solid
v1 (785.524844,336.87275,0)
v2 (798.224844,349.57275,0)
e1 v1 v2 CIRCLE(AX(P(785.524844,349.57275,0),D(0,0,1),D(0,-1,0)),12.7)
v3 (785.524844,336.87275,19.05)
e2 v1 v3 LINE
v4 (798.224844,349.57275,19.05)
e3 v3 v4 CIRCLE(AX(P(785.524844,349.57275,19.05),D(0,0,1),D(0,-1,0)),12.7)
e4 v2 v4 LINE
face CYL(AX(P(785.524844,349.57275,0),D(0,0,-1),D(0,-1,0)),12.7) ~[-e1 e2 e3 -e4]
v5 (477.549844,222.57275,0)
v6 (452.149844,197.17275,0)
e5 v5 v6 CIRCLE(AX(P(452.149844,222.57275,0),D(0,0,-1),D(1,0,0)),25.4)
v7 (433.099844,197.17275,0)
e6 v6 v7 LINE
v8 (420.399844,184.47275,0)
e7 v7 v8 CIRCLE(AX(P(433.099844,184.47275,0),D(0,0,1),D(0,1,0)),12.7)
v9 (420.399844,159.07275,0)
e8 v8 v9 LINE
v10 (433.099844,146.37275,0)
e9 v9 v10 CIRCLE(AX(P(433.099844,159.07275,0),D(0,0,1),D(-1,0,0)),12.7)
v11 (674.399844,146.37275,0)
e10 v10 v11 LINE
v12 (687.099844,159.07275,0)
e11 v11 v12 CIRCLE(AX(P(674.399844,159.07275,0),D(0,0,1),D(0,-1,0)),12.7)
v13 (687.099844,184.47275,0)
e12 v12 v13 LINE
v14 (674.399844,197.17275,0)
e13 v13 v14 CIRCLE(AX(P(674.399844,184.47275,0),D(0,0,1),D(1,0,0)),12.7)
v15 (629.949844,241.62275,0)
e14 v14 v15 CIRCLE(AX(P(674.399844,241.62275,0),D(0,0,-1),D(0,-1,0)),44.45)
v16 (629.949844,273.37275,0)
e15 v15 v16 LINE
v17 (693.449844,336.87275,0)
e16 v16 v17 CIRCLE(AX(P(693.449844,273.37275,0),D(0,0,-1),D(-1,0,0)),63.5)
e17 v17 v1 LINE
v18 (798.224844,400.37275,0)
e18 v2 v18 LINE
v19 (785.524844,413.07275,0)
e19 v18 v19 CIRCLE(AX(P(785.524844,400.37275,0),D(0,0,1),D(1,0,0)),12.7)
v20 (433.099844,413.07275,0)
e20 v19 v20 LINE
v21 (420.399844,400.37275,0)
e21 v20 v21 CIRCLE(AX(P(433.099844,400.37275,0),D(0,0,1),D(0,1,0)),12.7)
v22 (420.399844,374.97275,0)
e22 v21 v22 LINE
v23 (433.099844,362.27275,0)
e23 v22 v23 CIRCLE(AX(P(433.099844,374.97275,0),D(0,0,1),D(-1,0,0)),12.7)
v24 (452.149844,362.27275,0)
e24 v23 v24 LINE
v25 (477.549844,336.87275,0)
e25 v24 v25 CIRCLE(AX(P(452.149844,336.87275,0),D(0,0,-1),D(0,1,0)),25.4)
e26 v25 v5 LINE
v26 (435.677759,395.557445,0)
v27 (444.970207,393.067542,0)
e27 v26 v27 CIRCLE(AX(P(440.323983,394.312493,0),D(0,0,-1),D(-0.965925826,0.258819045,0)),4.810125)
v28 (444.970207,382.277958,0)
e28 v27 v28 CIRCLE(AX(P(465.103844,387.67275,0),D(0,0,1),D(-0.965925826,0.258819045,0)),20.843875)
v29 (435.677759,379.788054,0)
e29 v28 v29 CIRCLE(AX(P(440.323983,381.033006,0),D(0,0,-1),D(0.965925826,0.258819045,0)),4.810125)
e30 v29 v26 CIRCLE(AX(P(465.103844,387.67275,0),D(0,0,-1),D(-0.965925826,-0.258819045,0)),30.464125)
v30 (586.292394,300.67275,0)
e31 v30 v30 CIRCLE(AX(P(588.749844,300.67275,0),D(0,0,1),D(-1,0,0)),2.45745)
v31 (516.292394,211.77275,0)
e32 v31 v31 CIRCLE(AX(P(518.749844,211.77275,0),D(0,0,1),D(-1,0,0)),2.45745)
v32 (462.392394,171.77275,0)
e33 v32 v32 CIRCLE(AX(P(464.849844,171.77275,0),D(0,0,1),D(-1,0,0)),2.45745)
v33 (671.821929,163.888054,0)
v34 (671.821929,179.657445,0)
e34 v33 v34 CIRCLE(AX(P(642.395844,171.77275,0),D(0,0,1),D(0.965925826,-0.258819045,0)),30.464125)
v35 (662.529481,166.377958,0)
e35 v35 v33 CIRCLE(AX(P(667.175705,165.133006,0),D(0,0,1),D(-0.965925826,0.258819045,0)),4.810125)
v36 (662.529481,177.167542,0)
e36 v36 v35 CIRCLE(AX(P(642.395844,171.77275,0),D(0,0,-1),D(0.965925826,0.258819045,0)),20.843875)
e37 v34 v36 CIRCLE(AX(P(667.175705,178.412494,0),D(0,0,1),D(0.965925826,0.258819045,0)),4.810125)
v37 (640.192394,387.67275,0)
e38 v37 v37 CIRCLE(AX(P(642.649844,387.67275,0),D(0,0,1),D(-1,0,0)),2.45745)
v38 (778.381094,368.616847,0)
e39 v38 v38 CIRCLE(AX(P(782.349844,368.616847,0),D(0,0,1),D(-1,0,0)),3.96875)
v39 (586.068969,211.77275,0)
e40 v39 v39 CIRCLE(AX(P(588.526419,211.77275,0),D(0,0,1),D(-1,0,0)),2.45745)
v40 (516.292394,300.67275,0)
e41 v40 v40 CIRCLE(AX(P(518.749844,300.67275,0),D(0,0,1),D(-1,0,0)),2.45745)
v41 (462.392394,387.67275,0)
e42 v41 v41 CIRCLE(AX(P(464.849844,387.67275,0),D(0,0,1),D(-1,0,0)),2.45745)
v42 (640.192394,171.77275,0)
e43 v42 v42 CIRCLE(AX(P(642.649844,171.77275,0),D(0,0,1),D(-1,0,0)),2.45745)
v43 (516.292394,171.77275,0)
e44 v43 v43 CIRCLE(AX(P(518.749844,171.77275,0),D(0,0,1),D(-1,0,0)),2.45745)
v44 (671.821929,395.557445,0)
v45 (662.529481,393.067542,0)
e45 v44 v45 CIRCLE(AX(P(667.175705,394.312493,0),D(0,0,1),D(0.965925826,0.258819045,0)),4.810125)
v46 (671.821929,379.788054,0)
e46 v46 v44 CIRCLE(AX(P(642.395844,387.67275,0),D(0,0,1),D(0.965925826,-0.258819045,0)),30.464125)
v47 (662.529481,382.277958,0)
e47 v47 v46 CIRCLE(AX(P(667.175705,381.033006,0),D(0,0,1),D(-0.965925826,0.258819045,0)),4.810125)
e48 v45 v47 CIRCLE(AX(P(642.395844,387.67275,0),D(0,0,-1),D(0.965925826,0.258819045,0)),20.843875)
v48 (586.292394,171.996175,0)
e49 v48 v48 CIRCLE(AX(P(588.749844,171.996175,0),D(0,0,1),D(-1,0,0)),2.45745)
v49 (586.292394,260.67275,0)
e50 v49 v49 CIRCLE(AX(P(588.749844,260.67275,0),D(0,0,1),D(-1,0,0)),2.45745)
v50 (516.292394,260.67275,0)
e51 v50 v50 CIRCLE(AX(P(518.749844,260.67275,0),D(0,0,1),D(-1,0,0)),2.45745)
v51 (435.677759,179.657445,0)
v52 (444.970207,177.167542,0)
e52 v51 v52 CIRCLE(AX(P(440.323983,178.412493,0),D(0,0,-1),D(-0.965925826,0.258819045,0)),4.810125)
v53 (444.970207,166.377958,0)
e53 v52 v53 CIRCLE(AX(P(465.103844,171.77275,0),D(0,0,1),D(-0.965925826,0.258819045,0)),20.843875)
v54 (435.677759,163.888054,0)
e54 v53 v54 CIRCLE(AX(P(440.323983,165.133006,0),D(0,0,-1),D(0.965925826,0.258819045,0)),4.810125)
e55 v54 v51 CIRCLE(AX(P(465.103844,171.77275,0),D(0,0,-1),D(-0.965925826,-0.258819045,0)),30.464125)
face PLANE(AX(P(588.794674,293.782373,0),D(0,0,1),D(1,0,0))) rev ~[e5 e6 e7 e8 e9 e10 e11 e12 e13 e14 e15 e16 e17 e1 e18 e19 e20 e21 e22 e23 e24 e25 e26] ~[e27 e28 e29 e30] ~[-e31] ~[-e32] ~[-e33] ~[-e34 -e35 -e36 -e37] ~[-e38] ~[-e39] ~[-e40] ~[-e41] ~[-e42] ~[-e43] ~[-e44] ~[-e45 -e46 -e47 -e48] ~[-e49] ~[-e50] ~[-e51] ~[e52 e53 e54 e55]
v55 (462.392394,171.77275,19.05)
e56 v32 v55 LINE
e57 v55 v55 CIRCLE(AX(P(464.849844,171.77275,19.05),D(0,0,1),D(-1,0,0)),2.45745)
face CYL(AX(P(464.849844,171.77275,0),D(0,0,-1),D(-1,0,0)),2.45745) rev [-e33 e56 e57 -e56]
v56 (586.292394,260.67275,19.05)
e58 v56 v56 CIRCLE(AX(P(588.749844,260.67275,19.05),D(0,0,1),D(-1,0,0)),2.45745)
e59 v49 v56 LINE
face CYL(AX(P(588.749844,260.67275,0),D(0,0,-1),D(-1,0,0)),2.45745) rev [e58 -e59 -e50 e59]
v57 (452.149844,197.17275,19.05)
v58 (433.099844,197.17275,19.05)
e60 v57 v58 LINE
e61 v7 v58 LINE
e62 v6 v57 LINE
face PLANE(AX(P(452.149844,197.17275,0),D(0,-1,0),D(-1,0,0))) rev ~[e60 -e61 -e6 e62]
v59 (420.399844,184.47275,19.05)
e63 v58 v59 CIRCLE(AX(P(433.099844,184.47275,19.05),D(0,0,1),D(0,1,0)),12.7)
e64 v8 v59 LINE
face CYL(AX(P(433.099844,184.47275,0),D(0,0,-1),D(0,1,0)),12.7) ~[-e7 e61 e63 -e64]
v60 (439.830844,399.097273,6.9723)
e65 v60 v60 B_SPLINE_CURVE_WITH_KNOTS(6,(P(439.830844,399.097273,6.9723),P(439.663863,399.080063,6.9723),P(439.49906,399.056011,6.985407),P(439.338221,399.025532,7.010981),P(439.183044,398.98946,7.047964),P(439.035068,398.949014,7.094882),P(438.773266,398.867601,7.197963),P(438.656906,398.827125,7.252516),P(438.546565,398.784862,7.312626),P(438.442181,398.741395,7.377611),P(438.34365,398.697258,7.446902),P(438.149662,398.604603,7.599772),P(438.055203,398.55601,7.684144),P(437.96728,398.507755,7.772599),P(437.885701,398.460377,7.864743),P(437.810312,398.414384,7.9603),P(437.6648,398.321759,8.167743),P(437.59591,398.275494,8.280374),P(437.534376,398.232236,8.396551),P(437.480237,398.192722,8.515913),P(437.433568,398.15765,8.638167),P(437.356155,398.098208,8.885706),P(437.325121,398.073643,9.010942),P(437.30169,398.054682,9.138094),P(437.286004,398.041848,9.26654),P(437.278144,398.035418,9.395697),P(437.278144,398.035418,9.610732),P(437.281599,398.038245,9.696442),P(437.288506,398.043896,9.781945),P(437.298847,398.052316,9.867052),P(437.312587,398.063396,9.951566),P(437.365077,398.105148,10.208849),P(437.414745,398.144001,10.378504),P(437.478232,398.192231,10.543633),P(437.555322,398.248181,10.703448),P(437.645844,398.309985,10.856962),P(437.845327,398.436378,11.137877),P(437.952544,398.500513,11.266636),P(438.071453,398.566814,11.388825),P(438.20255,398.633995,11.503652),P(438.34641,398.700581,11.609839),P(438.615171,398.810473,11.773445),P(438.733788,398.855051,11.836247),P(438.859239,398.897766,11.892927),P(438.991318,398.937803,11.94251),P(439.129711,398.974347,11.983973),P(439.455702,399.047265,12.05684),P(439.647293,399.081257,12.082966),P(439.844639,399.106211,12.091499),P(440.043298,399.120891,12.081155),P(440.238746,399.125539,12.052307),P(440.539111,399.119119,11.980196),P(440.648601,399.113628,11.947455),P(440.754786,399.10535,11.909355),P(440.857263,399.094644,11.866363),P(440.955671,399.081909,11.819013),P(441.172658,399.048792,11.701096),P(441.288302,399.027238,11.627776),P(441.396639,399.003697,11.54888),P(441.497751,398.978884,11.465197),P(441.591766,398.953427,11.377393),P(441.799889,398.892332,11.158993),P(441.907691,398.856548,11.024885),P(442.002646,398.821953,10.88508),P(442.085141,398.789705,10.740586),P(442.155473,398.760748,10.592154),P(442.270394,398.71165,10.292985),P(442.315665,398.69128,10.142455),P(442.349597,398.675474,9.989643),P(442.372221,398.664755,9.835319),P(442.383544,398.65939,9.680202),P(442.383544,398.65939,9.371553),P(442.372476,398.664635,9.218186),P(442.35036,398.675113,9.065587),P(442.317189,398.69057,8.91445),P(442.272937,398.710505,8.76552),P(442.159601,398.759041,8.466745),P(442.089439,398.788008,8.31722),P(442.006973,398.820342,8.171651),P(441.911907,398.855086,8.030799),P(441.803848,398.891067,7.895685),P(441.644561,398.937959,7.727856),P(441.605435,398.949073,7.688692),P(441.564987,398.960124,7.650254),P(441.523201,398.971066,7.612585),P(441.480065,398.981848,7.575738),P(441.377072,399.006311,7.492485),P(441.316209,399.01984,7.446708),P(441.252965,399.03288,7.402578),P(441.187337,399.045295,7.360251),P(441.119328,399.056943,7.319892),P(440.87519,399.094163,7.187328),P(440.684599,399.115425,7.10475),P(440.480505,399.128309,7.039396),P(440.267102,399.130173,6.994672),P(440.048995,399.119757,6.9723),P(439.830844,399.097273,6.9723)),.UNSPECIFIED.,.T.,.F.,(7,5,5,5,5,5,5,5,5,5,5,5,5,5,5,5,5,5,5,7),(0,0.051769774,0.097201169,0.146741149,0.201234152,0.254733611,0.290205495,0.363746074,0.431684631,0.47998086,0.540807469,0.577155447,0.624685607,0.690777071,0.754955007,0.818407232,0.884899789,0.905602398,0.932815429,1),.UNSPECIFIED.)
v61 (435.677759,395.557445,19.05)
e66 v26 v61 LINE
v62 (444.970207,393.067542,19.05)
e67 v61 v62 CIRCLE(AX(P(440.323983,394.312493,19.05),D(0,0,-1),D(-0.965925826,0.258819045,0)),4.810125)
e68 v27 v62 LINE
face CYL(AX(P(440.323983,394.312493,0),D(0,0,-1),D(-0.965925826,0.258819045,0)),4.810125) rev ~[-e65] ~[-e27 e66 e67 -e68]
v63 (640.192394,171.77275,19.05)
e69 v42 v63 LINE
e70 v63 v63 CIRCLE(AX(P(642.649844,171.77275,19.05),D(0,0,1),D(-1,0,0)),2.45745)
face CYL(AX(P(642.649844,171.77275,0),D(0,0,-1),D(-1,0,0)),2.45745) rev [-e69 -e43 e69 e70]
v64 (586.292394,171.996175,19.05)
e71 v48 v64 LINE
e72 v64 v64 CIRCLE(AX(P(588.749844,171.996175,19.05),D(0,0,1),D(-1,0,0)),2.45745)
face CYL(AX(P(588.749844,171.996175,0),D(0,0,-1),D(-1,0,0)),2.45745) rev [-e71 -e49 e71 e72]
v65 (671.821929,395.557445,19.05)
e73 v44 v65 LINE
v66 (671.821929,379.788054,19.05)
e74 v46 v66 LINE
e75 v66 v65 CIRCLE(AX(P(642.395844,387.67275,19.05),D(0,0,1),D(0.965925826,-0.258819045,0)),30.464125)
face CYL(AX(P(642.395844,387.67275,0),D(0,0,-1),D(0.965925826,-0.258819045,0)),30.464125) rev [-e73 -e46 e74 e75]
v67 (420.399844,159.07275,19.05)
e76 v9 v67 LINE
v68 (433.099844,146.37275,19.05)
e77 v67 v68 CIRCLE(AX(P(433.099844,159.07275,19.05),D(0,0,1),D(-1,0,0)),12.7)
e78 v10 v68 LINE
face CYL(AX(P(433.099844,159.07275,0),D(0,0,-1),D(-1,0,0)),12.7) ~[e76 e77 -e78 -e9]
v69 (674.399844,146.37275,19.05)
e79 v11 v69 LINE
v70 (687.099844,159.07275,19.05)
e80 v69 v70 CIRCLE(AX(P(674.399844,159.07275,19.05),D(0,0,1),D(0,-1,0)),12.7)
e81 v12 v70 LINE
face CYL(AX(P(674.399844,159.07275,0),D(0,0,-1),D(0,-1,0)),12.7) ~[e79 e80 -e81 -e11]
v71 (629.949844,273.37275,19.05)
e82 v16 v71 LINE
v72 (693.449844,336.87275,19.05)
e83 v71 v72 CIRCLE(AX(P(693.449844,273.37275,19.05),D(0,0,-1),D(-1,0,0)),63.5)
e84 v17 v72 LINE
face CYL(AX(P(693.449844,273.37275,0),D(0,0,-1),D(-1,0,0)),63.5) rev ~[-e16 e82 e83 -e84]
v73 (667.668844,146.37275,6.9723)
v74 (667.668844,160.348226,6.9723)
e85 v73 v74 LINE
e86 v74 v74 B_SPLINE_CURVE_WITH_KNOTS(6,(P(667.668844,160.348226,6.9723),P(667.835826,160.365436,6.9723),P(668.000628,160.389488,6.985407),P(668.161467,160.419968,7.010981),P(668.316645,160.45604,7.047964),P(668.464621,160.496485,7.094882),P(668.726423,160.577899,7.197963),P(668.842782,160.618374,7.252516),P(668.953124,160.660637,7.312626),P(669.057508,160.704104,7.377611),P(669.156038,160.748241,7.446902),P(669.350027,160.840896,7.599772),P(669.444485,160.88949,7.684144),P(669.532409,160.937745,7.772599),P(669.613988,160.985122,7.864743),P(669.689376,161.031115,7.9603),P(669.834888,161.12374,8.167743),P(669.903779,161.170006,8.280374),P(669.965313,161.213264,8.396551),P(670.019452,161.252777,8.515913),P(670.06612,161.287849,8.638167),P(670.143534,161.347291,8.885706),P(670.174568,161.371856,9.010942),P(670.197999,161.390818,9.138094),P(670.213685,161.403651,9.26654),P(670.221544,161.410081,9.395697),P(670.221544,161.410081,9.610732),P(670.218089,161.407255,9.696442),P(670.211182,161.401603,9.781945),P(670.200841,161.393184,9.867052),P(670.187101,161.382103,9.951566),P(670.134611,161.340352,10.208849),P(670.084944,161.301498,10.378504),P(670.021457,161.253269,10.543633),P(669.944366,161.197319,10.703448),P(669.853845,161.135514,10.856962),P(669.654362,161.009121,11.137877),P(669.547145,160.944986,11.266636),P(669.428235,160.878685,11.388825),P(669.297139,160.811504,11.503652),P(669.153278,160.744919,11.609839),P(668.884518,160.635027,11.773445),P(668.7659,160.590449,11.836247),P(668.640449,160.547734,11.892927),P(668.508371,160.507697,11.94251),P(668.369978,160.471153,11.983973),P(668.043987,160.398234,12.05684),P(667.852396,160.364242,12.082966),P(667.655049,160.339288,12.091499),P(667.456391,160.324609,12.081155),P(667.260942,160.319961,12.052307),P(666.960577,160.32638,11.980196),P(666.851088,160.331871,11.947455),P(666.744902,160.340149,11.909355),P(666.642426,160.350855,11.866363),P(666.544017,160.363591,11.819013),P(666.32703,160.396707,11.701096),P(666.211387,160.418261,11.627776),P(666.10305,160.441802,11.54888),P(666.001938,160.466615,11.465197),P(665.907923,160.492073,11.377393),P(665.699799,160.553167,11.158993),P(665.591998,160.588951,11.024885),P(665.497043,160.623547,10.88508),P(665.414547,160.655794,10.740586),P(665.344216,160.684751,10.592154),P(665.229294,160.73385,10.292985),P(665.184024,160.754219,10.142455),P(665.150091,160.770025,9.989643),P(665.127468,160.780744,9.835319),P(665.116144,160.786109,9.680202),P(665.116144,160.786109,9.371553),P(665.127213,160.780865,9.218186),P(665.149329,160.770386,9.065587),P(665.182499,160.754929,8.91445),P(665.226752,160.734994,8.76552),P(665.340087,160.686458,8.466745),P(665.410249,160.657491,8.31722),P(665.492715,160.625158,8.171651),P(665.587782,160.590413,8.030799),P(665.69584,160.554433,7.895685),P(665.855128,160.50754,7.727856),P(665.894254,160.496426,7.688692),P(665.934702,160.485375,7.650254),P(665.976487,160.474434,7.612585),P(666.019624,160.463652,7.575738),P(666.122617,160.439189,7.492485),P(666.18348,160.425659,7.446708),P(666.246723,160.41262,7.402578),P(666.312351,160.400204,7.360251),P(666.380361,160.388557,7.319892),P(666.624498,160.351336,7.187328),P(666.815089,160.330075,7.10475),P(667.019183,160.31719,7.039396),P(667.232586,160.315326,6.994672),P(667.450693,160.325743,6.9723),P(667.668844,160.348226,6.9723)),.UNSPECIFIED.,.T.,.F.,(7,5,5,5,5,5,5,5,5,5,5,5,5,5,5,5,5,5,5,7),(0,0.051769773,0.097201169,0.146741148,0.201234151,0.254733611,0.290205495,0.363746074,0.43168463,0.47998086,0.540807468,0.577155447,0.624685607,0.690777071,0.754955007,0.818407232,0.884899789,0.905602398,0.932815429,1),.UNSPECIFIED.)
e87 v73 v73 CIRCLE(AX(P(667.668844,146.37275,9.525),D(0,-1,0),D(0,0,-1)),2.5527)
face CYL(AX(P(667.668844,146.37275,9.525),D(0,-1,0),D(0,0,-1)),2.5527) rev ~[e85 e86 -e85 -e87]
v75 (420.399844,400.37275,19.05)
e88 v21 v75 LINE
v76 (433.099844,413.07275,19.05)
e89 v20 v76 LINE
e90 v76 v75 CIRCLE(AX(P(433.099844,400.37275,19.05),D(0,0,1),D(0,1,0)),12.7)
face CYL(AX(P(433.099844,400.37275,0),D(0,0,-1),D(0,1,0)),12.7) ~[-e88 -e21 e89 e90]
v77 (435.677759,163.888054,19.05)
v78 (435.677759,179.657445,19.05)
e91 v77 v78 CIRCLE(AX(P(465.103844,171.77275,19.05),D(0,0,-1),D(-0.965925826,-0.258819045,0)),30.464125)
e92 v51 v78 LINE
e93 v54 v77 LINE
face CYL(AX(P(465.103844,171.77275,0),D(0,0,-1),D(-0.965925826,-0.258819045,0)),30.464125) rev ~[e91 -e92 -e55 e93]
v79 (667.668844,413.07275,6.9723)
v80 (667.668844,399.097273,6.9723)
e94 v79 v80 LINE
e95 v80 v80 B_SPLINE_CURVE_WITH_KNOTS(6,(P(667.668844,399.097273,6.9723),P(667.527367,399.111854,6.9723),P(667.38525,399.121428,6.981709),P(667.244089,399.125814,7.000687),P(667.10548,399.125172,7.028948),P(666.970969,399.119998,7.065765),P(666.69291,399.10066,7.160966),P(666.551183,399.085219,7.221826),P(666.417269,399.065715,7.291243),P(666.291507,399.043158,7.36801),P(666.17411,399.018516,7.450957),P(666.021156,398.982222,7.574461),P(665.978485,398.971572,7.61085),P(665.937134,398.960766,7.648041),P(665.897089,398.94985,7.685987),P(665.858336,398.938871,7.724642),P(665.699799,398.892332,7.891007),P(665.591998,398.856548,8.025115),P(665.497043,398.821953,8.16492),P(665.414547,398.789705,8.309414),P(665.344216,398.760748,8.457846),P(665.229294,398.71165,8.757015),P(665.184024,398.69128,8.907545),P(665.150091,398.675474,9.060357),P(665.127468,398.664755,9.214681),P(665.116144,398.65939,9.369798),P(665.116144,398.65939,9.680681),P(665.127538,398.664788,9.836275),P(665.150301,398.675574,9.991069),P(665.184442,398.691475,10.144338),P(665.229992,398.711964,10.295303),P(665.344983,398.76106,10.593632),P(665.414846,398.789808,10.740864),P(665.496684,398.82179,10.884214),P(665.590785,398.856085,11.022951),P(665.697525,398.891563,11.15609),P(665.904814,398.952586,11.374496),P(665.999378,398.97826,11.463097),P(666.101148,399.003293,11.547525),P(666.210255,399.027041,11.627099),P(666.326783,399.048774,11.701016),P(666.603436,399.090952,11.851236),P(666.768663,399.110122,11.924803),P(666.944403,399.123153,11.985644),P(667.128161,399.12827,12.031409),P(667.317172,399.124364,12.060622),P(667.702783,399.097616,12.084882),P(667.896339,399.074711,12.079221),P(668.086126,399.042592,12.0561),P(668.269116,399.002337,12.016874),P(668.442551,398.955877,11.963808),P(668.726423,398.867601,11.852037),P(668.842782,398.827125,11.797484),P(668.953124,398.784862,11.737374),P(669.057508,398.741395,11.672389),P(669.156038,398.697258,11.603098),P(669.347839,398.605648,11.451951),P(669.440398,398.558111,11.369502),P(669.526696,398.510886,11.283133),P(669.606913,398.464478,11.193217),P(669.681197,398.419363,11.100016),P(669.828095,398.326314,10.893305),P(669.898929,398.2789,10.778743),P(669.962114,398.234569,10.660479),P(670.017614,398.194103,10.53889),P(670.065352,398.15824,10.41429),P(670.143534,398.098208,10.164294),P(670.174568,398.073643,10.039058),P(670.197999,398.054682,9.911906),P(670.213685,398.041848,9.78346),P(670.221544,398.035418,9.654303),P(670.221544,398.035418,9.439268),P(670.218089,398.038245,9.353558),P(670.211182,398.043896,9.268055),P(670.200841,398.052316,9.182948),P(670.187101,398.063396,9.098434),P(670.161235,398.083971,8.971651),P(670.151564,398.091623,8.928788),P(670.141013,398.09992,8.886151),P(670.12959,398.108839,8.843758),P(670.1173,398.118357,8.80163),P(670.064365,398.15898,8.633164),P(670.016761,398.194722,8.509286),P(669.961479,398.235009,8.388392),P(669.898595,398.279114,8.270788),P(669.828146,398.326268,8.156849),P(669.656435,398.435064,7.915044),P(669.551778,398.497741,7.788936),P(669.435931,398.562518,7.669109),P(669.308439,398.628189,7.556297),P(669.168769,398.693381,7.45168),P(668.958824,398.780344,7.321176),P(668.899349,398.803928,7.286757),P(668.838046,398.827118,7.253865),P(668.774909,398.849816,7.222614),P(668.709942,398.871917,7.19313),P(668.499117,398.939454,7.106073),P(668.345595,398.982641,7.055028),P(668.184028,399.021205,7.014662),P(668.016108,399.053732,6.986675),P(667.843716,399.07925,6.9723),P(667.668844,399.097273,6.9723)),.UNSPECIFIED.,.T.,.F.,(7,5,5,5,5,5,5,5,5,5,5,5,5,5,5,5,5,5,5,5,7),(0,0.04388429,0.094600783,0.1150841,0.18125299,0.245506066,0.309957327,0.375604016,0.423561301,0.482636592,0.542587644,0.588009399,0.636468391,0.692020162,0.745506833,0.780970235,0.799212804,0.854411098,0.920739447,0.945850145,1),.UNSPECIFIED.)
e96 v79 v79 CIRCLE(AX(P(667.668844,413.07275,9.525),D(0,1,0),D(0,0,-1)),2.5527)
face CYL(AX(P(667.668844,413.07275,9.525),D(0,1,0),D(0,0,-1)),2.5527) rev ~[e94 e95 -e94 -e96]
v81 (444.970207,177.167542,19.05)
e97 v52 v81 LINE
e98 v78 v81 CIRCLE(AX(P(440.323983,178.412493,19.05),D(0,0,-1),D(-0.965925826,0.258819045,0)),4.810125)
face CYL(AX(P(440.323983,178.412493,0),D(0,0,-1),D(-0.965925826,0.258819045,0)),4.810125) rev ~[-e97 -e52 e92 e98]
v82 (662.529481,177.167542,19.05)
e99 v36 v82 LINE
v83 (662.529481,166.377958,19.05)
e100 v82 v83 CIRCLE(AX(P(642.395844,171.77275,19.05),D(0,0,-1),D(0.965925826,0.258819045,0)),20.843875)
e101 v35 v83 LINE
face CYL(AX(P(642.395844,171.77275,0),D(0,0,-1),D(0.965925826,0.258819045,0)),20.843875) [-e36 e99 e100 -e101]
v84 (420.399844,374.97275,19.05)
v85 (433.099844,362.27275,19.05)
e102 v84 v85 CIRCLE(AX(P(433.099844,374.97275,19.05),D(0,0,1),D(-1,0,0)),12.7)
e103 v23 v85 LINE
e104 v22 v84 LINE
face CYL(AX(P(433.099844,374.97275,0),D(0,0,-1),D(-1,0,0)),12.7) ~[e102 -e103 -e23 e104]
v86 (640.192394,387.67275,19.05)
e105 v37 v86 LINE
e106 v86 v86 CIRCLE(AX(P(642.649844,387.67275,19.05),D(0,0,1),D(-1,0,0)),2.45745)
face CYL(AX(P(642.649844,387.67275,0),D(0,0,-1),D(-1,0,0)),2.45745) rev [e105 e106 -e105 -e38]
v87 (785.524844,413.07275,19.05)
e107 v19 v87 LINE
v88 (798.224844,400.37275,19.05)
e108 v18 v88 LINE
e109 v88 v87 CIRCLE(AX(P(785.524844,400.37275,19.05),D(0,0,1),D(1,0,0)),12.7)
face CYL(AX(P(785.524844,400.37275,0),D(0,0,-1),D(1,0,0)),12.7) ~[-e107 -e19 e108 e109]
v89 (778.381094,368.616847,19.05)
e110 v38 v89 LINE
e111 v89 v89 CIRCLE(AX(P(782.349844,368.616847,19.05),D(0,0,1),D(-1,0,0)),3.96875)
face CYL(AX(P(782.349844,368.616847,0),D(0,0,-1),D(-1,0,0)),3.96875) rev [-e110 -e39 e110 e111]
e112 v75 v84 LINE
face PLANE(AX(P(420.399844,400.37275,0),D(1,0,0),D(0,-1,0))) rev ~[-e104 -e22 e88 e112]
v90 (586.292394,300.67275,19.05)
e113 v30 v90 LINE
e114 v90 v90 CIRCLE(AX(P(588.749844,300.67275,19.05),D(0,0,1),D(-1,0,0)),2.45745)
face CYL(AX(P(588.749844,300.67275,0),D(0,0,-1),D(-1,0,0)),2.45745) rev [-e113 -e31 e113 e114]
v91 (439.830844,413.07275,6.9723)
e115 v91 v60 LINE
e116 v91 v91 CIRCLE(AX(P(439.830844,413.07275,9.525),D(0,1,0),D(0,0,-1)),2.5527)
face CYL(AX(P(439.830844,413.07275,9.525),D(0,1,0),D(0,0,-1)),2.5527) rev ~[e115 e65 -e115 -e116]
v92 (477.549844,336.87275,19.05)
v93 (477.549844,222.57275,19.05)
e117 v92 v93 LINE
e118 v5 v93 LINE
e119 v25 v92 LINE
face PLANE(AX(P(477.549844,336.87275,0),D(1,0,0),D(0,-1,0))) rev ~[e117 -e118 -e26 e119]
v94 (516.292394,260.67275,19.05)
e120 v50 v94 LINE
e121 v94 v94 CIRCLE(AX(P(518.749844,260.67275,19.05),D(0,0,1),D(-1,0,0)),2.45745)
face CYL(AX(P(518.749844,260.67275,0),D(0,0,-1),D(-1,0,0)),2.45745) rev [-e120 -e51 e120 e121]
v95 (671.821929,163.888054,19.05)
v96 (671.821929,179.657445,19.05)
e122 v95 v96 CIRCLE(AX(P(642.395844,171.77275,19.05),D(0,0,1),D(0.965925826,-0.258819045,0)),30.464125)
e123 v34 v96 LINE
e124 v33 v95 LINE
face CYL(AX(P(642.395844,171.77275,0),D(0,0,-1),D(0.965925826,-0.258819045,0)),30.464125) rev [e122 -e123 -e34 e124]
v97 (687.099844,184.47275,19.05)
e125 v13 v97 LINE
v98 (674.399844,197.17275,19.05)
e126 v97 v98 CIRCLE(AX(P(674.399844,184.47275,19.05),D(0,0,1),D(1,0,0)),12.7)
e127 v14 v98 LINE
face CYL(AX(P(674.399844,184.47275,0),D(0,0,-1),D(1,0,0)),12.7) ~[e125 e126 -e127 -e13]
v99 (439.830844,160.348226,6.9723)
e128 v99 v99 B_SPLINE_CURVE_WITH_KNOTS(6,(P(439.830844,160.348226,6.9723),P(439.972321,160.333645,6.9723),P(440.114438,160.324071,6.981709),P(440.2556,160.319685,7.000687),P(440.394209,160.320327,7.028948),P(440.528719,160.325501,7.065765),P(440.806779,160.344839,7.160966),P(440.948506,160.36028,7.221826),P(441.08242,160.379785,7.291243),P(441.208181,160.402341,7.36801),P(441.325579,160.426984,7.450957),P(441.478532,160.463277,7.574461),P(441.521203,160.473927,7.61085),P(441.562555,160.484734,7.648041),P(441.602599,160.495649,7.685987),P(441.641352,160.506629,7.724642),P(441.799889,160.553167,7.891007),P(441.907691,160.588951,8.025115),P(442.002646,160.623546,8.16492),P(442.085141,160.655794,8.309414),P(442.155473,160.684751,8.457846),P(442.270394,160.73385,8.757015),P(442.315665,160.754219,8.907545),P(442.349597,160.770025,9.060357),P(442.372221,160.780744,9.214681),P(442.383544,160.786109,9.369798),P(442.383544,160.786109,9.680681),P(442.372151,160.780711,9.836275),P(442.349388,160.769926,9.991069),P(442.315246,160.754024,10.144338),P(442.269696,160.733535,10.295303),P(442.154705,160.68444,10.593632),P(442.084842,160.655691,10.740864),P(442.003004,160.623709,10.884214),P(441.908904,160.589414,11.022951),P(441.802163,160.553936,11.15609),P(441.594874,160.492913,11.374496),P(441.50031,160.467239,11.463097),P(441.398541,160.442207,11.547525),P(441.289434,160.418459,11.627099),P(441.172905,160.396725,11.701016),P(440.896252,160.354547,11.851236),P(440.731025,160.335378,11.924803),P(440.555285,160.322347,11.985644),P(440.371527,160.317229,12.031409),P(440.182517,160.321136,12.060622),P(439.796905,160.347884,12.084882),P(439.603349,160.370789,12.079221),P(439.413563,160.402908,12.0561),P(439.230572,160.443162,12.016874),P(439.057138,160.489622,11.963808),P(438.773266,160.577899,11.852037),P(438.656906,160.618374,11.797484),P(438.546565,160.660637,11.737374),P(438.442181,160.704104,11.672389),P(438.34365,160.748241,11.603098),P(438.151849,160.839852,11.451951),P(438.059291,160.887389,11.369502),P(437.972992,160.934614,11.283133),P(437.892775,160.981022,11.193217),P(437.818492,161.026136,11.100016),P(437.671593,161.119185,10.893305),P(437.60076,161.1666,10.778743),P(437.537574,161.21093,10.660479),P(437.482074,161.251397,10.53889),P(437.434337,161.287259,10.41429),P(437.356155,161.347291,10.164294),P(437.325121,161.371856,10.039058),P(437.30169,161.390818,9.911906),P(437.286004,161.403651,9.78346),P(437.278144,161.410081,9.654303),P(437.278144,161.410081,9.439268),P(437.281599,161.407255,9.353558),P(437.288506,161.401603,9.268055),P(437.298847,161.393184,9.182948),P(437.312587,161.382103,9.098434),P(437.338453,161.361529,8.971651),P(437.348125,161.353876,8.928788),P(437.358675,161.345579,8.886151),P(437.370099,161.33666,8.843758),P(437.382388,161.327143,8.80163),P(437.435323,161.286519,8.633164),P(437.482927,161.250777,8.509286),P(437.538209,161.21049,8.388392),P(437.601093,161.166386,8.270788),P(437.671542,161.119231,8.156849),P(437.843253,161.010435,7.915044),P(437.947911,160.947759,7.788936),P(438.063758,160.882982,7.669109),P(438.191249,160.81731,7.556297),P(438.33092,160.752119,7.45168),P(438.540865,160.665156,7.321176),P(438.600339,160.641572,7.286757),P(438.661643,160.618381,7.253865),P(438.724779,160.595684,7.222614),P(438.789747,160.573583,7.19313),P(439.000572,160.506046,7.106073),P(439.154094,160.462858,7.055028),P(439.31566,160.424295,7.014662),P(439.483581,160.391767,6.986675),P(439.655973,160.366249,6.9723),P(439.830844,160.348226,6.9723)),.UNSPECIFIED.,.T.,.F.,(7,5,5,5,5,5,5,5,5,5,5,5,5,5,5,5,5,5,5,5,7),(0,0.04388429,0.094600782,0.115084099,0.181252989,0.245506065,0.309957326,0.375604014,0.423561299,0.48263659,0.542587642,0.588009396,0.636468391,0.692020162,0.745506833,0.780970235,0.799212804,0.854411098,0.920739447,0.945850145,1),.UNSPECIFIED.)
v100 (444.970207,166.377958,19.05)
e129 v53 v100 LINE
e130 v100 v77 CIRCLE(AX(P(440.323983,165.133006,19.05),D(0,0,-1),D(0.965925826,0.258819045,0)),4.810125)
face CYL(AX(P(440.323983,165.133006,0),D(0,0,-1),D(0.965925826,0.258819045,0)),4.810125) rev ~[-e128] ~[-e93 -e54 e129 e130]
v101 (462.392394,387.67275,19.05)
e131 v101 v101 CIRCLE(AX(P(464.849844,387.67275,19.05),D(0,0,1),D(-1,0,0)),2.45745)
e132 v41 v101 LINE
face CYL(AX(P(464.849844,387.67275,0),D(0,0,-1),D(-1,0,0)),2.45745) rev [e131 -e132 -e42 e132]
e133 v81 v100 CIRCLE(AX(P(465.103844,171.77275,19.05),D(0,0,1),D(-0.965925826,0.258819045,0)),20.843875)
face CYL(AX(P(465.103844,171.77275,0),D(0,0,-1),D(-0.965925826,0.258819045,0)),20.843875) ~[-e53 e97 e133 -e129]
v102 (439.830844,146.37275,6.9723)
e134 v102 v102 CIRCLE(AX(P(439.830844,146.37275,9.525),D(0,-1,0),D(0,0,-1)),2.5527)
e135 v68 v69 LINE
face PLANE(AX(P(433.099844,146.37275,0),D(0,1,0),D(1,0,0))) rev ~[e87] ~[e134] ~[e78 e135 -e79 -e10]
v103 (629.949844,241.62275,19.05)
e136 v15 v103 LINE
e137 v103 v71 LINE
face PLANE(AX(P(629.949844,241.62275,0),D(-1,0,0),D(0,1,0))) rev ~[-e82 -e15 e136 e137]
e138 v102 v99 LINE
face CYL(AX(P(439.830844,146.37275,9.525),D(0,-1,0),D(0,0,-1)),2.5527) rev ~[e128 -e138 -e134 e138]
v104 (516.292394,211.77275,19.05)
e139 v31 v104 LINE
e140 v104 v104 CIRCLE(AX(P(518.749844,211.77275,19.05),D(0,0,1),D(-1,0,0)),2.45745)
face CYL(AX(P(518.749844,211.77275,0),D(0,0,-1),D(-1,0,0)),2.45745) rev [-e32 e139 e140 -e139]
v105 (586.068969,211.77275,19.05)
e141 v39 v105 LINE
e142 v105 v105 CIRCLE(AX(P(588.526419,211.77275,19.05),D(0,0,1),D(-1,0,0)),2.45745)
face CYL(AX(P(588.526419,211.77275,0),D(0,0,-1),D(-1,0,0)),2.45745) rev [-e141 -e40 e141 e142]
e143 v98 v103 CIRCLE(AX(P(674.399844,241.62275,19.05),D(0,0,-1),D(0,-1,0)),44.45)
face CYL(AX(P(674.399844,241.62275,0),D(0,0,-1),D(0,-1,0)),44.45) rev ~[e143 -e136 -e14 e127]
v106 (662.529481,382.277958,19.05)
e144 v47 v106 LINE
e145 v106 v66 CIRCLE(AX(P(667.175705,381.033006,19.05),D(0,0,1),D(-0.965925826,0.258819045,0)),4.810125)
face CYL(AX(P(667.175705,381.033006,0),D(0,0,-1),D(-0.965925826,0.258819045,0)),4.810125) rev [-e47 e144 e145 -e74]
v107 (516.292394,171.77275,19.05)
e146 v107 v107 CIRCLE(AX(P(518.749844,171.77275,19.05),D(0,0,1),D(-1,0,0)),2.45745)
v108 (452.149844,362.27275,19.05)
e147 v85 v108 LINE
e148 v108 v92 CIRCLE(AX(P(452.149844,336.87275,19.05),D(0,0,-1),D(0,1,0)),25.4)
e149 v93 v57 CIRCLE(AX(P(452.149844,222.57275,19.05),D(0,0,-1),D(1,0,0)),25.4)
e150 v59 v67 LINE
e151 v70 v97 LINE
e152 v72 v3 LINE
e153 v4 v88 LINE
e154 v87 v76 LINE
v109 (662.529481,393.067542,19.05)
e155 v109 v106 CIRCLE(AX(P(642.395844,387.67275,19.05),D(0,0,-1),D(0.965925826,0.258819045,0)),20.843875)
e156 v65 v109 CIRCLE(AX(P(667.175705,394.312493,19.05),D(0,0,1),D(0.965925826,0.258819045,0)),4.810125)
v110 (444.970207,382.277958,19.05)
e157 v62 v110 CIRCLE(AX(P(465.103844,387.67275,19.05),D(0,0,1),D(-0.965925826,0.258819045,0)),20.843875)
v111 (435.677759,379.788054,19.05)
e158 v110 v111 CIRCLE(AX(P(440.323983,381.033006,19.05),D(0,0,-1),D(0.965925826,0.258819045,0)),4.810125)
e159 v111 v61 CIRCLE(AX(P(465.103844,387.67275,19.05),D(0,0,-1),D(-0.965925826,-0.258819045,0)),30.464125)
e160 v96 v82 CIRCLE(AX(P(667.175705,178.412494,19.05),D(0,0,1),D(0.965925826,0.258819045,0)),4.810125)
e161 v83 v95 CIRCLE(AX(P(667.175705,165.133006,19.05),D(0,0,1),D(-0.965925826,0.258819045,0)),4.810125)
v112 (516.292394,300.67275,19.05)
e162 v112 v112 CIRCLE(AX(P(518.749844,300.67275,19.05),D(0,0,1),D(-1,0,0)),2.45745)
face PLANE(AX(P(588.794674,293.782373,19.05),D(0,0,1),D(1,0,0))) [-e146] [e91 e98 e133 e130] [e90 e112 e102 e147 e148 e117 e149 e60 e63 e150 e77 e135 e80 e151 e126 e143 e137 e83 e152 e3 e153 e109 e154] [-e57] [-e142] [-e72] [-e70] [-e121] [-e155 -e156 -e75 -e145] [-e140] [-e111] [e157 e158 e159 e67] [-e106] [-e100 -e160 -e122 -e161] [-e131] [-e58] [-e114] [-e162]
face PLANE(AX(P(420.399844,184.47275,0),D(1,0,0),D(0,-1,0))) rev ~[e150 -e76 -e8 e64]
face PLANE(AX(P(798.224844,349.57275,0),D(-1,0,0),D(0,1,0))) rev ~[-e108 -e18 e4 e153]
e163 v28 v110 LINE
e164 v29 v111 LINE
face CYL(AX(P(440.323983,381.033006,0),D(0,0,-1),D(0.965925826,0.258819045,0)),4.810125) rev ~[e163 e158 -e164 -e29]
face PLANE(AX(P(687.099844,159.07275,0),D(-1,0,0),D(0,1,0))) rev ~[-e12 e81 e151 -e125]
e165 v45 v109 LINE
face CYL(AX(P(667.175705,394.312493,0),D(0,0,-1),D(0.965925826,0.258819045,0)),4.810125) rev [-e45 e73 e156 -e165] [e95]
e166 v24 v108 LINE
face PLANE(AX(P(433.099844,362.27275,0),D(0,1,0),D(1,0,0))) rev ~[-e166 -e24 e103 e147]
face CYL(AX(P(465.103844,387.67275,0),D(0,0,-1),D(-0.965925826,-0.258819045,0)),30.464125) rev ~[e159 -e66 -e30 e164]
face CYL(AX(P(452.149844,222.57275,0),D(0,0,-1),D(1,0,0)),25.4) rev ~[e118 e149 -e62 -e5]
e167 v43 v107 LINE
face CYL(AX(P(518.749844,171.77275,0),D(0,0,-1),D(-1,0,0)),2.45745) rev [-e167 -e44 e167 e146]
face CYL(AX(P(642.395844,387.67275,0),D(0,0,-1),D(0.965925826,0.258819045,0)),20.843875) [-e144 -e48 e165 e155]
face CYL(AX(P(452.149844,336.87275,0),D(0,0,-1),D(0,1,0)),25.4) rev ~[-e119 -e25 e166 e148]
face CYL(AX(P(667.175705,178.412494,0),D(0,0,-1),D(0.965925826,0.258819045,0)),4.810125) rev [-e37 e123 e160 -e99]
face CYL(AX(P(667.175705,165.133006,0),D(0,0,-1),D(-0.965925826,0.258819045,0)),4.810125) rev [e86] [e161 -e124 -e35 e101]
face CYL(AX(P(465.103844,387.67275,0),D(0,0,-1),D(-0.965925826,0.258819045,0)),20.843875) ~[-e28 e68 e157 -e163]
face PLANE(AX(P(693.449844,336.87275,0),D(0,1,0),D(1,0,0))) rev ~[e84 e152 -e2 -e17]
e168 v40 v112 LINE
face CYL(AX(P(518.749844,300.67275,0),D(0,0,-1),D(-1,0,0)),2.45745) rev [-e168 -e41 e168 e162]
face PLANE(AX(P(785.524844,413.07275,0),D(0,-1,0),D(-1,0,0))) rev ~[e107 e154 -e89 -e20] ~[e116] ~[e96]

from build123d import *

# Parameters (mm, degrees)
MODEL_R             = 2.45745
MODEL_R_2           = 3.96875
BOSS_EXTRUDE1_DEPTH = 19.05
CUT_EXTRUDE1_REACH  = 843.816
SKETCH2_R           = 2.5527
CUT_EXTRUDE2_REACH  = 843.816
SKETCH4_R           = 2.5527


with BuildPart() as part:
    # Model → Boss-Extrude1 (new body)
    with BuildSketch(Plane.XY):
        with BuildLine():
            Line((785.524844282, 413.072749717), (433.09984428, 413.072749717))
            ThreePointArc((433.09984428, 413.072749717), (424.119588159, 409.353005838), (420.39984428, 400.372749717))
            Line((420.39984428, 400.372749717), (420.39984428, 374.972749717))
            ThreePointArc((420.39984428, 374.972749717), (424.119588159, 365.992493596), (433.09984428, 362.272749717))
            Line((433.09984428, 362.272749717), (452.14984428, 362.272749717))
            ThreePointArc((452.14984428, 362.272749717), (470.110356522, 354.833261959), (477.54984428, 336.872749717))
            Line((477.54984428, 336.872749717), (477.54984428, 222.572749717))
            ThreePointArc((477.54984428, 222.572749717), (470.110356522, 204.612237475), (452.14984428, 197.172749717))
            Line((452.14984428, 197.172749717), (433.09984428, 197.172749717))
            ThreePointArc((433.09984428, 197.172749717), (424.119588159, 193.453005838), (420.39984428, 184.472749717))
            Line((420.39984428, 184.472749717), (420.39984428, 159.072749717))
            ThreePointArc((420.39984428, 159.072749717), (424.119588159, 150.092493596), (433.09984428, 146.372749717))
            Line((433.09984428, 146.372749717), (674.399844282, 146.372749717))
            ThreePointArc((674.399844282, 146.372749717), (683.380100403, 150.092493596), (687.099844282, 159.072749717))
            Line((687.099844282, 159.072749717), (687.099844282, 184.472749717))
            ThreePointArc((687.099844282, 184.472749717), (683.380100403, 193.453005838), (674.399844282, 197.172749717))
            ThreePointArc((674.399844282, 197.172749717), (642.968947858, 210.191853293), (629.949844282, 241.622749717))
            Line((629.949844282, 241.622749717), (629.949844282, 273.372749717))
            ThreePointArc((629.949844282, 273.372749717), (648.548563677, 318.274030322), (693.449844282, 336.872749717))
            Line((693.449844282, 336.872749717), (785.524844282, 336.872749717))
            ThreePointArc((785.524844282, 336.872749717), (794.505100403, 340.592493596), (798.224844282, 349.572749717))
            Line((798.224844282, 349.572749717), (798.224844282, 400.372749717))
            ThreePointArc((798.224844282, 400.372749717), (794.505100403, 409.353005838), (785.524844282, 413.072749717))
        make_face()
        with Locations(Location((518.749844327, 171.772749712, 0), (0, 0, 180))):
            Circle(MODEL_R, mode=Mode.SUBTRACT)
        with Locations(Location((588.526419084, 211.772749722, 0), (0, 0, 180))):
            Circle(MODEL_R, mode=Mode.SUBTRACT)
        with Locations(Location((518.749844281, 260.672749712, 0), (0, 0, 180))):
            Circle(MODEL_R, mode=Mode.SUBTRACT)
        with Locations(Location((588.749844281, 300.672749722, 0), (0, 0, 180))):
            Circle(MODEL_R, mode=Mode.SUBTRACT)
        with Locations(Location((782.349844282, 368.616847103, 0), (0, 0, 180))):
            Circle(MODEL_R_2, mode=Mode.SUBTRACT)
        with Locations(Location((642.649844285, 171.772749717, 0), (0, 0, 180))):
            Circle(MODEL_R, mode=Mode.SUBTRACT)
        with Locations(Location((464.849844282, 171.772749717, 0), (0, 0, 180))):
            Circle(MODEL_R, mode=Mode.SUBTRACT)
        with Locations(Location((464.849844282, 387.672749714, 0), (0, 0, 180))):
            Circle(MODEL_R, mode=Mode.SUBTRACT)
        with Locations(Location((642.649844282, 387.672749714, 0), (0, 0, 180))):
            Circle(MODEL_R, mode=Mode.SUBTRACT)
        with Locations(Location((518.749844281, 300.672749722, 0), (0, 0, 180))):
            Circle(MODEL_R, mode=Mode.SUBTRACT)
        with Locations(Location((588.749844281, 260.672749712, 0), (0, 0, 180))):
            Circle(MODEL_R, mode=Mode.SUBTRACT)
        with Locations(Location((518.749844327, 211.772749722, 0), (0, 0, 180))):
            Circle(MODEL_R, mode=Mode.SUBTRACT)
        with Locations(Location((588.749844281, 171.996174909, 0), (0, 0, 180))):
            Circle(MODEL_R, mode=Mode.SUBTRACT)
        with BuildLine():
            ThreePointArc((444.9702071, 177.167541541), (444.259969282, 171.772749717), (444.9702071, 166.377957893))
            ThreePointArc((444.9702071, 166.377957893), (441.568935094, 160.486781969), (435.677759169, 163.888053974))
            ThreePointArc((435.677759169, 163.888053974), (434.639719282, 171.772749717), (435.677759169, 179.657445459))
            ThreePointArc((435.677759169, 179.657445459), (441.568935094, 183.058717465), (444.9702071, 177.167541541))
        make_face(mode=Mode.SUBTRACT)
        with BuildLine():
            ThreePointArc((671.821929397, 163.888053974), (672.859969285, 171.772749717), (671.821929397, 179.657445459))
            ThreePointArc((671.821929397, 179.657445459), (665.930753473, 183.058717465), (662.529481467, 177.167541541))
            ThreePointArc((662.529481467, 177.167541541), (663.239719285, 171.772749717), (662.529481467, 166.377957893))
            ThreePointArc((662.529481467, 166.377957893), (665.930753473, 160.486781969), (671.821929397, 163.888053974))
        make_face(mode=Mode.SUBTRACT)
        with BuildLine():
            ThreePointArc((671.821929395, 379.788053972), (672.859969282, 387.672749714), (671.821929395, 395.557445457))
            ThreePointArc((671.821929395, 395.557445457), (665.93075347, 398.958717463), (662.529481465, 393.067541538))
            ThreePointArc((662.529481465, 393.067541538), (663.239719282, 387.672749714), (662.529481465, 382.277957891))
            ThreePointArc((662.529481465, 382.277957891), (665.93075347, 376.386781966), (671.821929395, 379.788053972))
        make_face(mode=Mode.SUBTRACT)
        with BuildLine():
            ThreePointArc((444.9702071, 393.067541538), (444.259969282, 387.672749714), (444.9702071, 382.277957891))
            ThreePointArc((444.9702071, 382.277957891), (441.568935094, 376.386781966), (435.677759169, 379.788053972))
            ThreePointArc((435.677759169, 379.788053972), (434.639719282, 387.672749714), (435.677759169, 395.557445457))
            ThreePointArc((435.677759169, 395.557445457), (441.568935094, 398.958717463), (444.9702071, 393.067541538))
        make_face(mode=Mode.SUBTRACT)
    extrude(amount=BOSS_EXTRUDE1_DEPTH)

    # Sketch2 → Cut-Extrude1 (cut, up to next)
    with BuildSketch(Plane.XZ.offset(-146.372749717), mode=Mode.PRIVATE) as cut_extrude1_sk1:
        with Locations(Location((439.83084428, 9.525, 0), (0, 0, 270))):
            Circle(SKETCH2_R)
    cut_extrude1_tool1 = extrude(cut_extrude1_sk1.sketch, amount=-CUT_EXTRUDE1_REACH, mode=Mode.PRIVATE) & part.part
    # Sketch2 → Cut-Extrude1 (cut, up to next)
    with BuildSketch(Plane.XZ.offset(-146.372749717), mode=Mode.PRIVATE) as cut_extrude1_sk2:
        with Locations(Location((667.668844282, 9.525, 0), (0, 0, 270))):
            Circle(SKETCH2_R)
    cut_extrude1_tool2 = extrude(cut_extrude1_sk2.sketch, amount=-CUT_EXTRUDE1_REACH, mode=Mode.PRIVATE) & part.part
    add(cut_extrude1_tool1.solids().sort_by_distance((439.830844, 146.37275, 9.525))[0], mode=Mode.SUBTRACT)
    add(cut_extrude1_tool2.solids().sort_by_distance((667.668844, 146.37275, 9.525))[0], mode=Mode.SUBTRACT)

    # Sketch4 → Cut-Extrude2 (cut, up to next)
    with BuildSketch(Plane(origin=(0, 413.072749717, 0), x_dir=(1, 0, 0), z_dir=(0, 1, 0)), mode=Mode.PRIVATE) as cut_extrude2_sk1:
        with Locations(Location((439.83084428, -9.525, 0), (0, 0, 90))):
            Circle(SKETCH4_R)
    cut_extrude2_tool1 = extrude(cut_extrude2_sk1.sketch, amount=-CUT_EXTRUDE2_REACH, mode=Mode.PRIVATE) & part.part
    # Sketch4 → Cut-Extrude2 (cut, up to next)
    with BuildSketch(Plane(origin=(0, 413.072749717, 0), x_dir=(1, 0, 0), z_dir=(0, 1, 0)), mode=Mode.PRIVATE) as cut_extrude2_sk2:
        with Locations(Location((667.668844282, -9.525, 0), (0, 0, 90))):
            Circle(SKETCH4_R)
    cut_extrude2_tool2 = extrude(cut_extrude2_sk2.sketch, amount=-CUT_EXTRUDE2_REACH, mode=Mode.PRIVATE) & part.part
    add(cut_extrude2_tool1.solids().sort_by_distance((439.830844, 413.07275, 9.525))[0], mode=Mode.SUBTRACT)
    add(cut_extrude2_tool2.solids().sort_by_distance((667.668844, 413.07275, 9.525))[0], mode=Mode.SUBTRACT)


solid = part.part
